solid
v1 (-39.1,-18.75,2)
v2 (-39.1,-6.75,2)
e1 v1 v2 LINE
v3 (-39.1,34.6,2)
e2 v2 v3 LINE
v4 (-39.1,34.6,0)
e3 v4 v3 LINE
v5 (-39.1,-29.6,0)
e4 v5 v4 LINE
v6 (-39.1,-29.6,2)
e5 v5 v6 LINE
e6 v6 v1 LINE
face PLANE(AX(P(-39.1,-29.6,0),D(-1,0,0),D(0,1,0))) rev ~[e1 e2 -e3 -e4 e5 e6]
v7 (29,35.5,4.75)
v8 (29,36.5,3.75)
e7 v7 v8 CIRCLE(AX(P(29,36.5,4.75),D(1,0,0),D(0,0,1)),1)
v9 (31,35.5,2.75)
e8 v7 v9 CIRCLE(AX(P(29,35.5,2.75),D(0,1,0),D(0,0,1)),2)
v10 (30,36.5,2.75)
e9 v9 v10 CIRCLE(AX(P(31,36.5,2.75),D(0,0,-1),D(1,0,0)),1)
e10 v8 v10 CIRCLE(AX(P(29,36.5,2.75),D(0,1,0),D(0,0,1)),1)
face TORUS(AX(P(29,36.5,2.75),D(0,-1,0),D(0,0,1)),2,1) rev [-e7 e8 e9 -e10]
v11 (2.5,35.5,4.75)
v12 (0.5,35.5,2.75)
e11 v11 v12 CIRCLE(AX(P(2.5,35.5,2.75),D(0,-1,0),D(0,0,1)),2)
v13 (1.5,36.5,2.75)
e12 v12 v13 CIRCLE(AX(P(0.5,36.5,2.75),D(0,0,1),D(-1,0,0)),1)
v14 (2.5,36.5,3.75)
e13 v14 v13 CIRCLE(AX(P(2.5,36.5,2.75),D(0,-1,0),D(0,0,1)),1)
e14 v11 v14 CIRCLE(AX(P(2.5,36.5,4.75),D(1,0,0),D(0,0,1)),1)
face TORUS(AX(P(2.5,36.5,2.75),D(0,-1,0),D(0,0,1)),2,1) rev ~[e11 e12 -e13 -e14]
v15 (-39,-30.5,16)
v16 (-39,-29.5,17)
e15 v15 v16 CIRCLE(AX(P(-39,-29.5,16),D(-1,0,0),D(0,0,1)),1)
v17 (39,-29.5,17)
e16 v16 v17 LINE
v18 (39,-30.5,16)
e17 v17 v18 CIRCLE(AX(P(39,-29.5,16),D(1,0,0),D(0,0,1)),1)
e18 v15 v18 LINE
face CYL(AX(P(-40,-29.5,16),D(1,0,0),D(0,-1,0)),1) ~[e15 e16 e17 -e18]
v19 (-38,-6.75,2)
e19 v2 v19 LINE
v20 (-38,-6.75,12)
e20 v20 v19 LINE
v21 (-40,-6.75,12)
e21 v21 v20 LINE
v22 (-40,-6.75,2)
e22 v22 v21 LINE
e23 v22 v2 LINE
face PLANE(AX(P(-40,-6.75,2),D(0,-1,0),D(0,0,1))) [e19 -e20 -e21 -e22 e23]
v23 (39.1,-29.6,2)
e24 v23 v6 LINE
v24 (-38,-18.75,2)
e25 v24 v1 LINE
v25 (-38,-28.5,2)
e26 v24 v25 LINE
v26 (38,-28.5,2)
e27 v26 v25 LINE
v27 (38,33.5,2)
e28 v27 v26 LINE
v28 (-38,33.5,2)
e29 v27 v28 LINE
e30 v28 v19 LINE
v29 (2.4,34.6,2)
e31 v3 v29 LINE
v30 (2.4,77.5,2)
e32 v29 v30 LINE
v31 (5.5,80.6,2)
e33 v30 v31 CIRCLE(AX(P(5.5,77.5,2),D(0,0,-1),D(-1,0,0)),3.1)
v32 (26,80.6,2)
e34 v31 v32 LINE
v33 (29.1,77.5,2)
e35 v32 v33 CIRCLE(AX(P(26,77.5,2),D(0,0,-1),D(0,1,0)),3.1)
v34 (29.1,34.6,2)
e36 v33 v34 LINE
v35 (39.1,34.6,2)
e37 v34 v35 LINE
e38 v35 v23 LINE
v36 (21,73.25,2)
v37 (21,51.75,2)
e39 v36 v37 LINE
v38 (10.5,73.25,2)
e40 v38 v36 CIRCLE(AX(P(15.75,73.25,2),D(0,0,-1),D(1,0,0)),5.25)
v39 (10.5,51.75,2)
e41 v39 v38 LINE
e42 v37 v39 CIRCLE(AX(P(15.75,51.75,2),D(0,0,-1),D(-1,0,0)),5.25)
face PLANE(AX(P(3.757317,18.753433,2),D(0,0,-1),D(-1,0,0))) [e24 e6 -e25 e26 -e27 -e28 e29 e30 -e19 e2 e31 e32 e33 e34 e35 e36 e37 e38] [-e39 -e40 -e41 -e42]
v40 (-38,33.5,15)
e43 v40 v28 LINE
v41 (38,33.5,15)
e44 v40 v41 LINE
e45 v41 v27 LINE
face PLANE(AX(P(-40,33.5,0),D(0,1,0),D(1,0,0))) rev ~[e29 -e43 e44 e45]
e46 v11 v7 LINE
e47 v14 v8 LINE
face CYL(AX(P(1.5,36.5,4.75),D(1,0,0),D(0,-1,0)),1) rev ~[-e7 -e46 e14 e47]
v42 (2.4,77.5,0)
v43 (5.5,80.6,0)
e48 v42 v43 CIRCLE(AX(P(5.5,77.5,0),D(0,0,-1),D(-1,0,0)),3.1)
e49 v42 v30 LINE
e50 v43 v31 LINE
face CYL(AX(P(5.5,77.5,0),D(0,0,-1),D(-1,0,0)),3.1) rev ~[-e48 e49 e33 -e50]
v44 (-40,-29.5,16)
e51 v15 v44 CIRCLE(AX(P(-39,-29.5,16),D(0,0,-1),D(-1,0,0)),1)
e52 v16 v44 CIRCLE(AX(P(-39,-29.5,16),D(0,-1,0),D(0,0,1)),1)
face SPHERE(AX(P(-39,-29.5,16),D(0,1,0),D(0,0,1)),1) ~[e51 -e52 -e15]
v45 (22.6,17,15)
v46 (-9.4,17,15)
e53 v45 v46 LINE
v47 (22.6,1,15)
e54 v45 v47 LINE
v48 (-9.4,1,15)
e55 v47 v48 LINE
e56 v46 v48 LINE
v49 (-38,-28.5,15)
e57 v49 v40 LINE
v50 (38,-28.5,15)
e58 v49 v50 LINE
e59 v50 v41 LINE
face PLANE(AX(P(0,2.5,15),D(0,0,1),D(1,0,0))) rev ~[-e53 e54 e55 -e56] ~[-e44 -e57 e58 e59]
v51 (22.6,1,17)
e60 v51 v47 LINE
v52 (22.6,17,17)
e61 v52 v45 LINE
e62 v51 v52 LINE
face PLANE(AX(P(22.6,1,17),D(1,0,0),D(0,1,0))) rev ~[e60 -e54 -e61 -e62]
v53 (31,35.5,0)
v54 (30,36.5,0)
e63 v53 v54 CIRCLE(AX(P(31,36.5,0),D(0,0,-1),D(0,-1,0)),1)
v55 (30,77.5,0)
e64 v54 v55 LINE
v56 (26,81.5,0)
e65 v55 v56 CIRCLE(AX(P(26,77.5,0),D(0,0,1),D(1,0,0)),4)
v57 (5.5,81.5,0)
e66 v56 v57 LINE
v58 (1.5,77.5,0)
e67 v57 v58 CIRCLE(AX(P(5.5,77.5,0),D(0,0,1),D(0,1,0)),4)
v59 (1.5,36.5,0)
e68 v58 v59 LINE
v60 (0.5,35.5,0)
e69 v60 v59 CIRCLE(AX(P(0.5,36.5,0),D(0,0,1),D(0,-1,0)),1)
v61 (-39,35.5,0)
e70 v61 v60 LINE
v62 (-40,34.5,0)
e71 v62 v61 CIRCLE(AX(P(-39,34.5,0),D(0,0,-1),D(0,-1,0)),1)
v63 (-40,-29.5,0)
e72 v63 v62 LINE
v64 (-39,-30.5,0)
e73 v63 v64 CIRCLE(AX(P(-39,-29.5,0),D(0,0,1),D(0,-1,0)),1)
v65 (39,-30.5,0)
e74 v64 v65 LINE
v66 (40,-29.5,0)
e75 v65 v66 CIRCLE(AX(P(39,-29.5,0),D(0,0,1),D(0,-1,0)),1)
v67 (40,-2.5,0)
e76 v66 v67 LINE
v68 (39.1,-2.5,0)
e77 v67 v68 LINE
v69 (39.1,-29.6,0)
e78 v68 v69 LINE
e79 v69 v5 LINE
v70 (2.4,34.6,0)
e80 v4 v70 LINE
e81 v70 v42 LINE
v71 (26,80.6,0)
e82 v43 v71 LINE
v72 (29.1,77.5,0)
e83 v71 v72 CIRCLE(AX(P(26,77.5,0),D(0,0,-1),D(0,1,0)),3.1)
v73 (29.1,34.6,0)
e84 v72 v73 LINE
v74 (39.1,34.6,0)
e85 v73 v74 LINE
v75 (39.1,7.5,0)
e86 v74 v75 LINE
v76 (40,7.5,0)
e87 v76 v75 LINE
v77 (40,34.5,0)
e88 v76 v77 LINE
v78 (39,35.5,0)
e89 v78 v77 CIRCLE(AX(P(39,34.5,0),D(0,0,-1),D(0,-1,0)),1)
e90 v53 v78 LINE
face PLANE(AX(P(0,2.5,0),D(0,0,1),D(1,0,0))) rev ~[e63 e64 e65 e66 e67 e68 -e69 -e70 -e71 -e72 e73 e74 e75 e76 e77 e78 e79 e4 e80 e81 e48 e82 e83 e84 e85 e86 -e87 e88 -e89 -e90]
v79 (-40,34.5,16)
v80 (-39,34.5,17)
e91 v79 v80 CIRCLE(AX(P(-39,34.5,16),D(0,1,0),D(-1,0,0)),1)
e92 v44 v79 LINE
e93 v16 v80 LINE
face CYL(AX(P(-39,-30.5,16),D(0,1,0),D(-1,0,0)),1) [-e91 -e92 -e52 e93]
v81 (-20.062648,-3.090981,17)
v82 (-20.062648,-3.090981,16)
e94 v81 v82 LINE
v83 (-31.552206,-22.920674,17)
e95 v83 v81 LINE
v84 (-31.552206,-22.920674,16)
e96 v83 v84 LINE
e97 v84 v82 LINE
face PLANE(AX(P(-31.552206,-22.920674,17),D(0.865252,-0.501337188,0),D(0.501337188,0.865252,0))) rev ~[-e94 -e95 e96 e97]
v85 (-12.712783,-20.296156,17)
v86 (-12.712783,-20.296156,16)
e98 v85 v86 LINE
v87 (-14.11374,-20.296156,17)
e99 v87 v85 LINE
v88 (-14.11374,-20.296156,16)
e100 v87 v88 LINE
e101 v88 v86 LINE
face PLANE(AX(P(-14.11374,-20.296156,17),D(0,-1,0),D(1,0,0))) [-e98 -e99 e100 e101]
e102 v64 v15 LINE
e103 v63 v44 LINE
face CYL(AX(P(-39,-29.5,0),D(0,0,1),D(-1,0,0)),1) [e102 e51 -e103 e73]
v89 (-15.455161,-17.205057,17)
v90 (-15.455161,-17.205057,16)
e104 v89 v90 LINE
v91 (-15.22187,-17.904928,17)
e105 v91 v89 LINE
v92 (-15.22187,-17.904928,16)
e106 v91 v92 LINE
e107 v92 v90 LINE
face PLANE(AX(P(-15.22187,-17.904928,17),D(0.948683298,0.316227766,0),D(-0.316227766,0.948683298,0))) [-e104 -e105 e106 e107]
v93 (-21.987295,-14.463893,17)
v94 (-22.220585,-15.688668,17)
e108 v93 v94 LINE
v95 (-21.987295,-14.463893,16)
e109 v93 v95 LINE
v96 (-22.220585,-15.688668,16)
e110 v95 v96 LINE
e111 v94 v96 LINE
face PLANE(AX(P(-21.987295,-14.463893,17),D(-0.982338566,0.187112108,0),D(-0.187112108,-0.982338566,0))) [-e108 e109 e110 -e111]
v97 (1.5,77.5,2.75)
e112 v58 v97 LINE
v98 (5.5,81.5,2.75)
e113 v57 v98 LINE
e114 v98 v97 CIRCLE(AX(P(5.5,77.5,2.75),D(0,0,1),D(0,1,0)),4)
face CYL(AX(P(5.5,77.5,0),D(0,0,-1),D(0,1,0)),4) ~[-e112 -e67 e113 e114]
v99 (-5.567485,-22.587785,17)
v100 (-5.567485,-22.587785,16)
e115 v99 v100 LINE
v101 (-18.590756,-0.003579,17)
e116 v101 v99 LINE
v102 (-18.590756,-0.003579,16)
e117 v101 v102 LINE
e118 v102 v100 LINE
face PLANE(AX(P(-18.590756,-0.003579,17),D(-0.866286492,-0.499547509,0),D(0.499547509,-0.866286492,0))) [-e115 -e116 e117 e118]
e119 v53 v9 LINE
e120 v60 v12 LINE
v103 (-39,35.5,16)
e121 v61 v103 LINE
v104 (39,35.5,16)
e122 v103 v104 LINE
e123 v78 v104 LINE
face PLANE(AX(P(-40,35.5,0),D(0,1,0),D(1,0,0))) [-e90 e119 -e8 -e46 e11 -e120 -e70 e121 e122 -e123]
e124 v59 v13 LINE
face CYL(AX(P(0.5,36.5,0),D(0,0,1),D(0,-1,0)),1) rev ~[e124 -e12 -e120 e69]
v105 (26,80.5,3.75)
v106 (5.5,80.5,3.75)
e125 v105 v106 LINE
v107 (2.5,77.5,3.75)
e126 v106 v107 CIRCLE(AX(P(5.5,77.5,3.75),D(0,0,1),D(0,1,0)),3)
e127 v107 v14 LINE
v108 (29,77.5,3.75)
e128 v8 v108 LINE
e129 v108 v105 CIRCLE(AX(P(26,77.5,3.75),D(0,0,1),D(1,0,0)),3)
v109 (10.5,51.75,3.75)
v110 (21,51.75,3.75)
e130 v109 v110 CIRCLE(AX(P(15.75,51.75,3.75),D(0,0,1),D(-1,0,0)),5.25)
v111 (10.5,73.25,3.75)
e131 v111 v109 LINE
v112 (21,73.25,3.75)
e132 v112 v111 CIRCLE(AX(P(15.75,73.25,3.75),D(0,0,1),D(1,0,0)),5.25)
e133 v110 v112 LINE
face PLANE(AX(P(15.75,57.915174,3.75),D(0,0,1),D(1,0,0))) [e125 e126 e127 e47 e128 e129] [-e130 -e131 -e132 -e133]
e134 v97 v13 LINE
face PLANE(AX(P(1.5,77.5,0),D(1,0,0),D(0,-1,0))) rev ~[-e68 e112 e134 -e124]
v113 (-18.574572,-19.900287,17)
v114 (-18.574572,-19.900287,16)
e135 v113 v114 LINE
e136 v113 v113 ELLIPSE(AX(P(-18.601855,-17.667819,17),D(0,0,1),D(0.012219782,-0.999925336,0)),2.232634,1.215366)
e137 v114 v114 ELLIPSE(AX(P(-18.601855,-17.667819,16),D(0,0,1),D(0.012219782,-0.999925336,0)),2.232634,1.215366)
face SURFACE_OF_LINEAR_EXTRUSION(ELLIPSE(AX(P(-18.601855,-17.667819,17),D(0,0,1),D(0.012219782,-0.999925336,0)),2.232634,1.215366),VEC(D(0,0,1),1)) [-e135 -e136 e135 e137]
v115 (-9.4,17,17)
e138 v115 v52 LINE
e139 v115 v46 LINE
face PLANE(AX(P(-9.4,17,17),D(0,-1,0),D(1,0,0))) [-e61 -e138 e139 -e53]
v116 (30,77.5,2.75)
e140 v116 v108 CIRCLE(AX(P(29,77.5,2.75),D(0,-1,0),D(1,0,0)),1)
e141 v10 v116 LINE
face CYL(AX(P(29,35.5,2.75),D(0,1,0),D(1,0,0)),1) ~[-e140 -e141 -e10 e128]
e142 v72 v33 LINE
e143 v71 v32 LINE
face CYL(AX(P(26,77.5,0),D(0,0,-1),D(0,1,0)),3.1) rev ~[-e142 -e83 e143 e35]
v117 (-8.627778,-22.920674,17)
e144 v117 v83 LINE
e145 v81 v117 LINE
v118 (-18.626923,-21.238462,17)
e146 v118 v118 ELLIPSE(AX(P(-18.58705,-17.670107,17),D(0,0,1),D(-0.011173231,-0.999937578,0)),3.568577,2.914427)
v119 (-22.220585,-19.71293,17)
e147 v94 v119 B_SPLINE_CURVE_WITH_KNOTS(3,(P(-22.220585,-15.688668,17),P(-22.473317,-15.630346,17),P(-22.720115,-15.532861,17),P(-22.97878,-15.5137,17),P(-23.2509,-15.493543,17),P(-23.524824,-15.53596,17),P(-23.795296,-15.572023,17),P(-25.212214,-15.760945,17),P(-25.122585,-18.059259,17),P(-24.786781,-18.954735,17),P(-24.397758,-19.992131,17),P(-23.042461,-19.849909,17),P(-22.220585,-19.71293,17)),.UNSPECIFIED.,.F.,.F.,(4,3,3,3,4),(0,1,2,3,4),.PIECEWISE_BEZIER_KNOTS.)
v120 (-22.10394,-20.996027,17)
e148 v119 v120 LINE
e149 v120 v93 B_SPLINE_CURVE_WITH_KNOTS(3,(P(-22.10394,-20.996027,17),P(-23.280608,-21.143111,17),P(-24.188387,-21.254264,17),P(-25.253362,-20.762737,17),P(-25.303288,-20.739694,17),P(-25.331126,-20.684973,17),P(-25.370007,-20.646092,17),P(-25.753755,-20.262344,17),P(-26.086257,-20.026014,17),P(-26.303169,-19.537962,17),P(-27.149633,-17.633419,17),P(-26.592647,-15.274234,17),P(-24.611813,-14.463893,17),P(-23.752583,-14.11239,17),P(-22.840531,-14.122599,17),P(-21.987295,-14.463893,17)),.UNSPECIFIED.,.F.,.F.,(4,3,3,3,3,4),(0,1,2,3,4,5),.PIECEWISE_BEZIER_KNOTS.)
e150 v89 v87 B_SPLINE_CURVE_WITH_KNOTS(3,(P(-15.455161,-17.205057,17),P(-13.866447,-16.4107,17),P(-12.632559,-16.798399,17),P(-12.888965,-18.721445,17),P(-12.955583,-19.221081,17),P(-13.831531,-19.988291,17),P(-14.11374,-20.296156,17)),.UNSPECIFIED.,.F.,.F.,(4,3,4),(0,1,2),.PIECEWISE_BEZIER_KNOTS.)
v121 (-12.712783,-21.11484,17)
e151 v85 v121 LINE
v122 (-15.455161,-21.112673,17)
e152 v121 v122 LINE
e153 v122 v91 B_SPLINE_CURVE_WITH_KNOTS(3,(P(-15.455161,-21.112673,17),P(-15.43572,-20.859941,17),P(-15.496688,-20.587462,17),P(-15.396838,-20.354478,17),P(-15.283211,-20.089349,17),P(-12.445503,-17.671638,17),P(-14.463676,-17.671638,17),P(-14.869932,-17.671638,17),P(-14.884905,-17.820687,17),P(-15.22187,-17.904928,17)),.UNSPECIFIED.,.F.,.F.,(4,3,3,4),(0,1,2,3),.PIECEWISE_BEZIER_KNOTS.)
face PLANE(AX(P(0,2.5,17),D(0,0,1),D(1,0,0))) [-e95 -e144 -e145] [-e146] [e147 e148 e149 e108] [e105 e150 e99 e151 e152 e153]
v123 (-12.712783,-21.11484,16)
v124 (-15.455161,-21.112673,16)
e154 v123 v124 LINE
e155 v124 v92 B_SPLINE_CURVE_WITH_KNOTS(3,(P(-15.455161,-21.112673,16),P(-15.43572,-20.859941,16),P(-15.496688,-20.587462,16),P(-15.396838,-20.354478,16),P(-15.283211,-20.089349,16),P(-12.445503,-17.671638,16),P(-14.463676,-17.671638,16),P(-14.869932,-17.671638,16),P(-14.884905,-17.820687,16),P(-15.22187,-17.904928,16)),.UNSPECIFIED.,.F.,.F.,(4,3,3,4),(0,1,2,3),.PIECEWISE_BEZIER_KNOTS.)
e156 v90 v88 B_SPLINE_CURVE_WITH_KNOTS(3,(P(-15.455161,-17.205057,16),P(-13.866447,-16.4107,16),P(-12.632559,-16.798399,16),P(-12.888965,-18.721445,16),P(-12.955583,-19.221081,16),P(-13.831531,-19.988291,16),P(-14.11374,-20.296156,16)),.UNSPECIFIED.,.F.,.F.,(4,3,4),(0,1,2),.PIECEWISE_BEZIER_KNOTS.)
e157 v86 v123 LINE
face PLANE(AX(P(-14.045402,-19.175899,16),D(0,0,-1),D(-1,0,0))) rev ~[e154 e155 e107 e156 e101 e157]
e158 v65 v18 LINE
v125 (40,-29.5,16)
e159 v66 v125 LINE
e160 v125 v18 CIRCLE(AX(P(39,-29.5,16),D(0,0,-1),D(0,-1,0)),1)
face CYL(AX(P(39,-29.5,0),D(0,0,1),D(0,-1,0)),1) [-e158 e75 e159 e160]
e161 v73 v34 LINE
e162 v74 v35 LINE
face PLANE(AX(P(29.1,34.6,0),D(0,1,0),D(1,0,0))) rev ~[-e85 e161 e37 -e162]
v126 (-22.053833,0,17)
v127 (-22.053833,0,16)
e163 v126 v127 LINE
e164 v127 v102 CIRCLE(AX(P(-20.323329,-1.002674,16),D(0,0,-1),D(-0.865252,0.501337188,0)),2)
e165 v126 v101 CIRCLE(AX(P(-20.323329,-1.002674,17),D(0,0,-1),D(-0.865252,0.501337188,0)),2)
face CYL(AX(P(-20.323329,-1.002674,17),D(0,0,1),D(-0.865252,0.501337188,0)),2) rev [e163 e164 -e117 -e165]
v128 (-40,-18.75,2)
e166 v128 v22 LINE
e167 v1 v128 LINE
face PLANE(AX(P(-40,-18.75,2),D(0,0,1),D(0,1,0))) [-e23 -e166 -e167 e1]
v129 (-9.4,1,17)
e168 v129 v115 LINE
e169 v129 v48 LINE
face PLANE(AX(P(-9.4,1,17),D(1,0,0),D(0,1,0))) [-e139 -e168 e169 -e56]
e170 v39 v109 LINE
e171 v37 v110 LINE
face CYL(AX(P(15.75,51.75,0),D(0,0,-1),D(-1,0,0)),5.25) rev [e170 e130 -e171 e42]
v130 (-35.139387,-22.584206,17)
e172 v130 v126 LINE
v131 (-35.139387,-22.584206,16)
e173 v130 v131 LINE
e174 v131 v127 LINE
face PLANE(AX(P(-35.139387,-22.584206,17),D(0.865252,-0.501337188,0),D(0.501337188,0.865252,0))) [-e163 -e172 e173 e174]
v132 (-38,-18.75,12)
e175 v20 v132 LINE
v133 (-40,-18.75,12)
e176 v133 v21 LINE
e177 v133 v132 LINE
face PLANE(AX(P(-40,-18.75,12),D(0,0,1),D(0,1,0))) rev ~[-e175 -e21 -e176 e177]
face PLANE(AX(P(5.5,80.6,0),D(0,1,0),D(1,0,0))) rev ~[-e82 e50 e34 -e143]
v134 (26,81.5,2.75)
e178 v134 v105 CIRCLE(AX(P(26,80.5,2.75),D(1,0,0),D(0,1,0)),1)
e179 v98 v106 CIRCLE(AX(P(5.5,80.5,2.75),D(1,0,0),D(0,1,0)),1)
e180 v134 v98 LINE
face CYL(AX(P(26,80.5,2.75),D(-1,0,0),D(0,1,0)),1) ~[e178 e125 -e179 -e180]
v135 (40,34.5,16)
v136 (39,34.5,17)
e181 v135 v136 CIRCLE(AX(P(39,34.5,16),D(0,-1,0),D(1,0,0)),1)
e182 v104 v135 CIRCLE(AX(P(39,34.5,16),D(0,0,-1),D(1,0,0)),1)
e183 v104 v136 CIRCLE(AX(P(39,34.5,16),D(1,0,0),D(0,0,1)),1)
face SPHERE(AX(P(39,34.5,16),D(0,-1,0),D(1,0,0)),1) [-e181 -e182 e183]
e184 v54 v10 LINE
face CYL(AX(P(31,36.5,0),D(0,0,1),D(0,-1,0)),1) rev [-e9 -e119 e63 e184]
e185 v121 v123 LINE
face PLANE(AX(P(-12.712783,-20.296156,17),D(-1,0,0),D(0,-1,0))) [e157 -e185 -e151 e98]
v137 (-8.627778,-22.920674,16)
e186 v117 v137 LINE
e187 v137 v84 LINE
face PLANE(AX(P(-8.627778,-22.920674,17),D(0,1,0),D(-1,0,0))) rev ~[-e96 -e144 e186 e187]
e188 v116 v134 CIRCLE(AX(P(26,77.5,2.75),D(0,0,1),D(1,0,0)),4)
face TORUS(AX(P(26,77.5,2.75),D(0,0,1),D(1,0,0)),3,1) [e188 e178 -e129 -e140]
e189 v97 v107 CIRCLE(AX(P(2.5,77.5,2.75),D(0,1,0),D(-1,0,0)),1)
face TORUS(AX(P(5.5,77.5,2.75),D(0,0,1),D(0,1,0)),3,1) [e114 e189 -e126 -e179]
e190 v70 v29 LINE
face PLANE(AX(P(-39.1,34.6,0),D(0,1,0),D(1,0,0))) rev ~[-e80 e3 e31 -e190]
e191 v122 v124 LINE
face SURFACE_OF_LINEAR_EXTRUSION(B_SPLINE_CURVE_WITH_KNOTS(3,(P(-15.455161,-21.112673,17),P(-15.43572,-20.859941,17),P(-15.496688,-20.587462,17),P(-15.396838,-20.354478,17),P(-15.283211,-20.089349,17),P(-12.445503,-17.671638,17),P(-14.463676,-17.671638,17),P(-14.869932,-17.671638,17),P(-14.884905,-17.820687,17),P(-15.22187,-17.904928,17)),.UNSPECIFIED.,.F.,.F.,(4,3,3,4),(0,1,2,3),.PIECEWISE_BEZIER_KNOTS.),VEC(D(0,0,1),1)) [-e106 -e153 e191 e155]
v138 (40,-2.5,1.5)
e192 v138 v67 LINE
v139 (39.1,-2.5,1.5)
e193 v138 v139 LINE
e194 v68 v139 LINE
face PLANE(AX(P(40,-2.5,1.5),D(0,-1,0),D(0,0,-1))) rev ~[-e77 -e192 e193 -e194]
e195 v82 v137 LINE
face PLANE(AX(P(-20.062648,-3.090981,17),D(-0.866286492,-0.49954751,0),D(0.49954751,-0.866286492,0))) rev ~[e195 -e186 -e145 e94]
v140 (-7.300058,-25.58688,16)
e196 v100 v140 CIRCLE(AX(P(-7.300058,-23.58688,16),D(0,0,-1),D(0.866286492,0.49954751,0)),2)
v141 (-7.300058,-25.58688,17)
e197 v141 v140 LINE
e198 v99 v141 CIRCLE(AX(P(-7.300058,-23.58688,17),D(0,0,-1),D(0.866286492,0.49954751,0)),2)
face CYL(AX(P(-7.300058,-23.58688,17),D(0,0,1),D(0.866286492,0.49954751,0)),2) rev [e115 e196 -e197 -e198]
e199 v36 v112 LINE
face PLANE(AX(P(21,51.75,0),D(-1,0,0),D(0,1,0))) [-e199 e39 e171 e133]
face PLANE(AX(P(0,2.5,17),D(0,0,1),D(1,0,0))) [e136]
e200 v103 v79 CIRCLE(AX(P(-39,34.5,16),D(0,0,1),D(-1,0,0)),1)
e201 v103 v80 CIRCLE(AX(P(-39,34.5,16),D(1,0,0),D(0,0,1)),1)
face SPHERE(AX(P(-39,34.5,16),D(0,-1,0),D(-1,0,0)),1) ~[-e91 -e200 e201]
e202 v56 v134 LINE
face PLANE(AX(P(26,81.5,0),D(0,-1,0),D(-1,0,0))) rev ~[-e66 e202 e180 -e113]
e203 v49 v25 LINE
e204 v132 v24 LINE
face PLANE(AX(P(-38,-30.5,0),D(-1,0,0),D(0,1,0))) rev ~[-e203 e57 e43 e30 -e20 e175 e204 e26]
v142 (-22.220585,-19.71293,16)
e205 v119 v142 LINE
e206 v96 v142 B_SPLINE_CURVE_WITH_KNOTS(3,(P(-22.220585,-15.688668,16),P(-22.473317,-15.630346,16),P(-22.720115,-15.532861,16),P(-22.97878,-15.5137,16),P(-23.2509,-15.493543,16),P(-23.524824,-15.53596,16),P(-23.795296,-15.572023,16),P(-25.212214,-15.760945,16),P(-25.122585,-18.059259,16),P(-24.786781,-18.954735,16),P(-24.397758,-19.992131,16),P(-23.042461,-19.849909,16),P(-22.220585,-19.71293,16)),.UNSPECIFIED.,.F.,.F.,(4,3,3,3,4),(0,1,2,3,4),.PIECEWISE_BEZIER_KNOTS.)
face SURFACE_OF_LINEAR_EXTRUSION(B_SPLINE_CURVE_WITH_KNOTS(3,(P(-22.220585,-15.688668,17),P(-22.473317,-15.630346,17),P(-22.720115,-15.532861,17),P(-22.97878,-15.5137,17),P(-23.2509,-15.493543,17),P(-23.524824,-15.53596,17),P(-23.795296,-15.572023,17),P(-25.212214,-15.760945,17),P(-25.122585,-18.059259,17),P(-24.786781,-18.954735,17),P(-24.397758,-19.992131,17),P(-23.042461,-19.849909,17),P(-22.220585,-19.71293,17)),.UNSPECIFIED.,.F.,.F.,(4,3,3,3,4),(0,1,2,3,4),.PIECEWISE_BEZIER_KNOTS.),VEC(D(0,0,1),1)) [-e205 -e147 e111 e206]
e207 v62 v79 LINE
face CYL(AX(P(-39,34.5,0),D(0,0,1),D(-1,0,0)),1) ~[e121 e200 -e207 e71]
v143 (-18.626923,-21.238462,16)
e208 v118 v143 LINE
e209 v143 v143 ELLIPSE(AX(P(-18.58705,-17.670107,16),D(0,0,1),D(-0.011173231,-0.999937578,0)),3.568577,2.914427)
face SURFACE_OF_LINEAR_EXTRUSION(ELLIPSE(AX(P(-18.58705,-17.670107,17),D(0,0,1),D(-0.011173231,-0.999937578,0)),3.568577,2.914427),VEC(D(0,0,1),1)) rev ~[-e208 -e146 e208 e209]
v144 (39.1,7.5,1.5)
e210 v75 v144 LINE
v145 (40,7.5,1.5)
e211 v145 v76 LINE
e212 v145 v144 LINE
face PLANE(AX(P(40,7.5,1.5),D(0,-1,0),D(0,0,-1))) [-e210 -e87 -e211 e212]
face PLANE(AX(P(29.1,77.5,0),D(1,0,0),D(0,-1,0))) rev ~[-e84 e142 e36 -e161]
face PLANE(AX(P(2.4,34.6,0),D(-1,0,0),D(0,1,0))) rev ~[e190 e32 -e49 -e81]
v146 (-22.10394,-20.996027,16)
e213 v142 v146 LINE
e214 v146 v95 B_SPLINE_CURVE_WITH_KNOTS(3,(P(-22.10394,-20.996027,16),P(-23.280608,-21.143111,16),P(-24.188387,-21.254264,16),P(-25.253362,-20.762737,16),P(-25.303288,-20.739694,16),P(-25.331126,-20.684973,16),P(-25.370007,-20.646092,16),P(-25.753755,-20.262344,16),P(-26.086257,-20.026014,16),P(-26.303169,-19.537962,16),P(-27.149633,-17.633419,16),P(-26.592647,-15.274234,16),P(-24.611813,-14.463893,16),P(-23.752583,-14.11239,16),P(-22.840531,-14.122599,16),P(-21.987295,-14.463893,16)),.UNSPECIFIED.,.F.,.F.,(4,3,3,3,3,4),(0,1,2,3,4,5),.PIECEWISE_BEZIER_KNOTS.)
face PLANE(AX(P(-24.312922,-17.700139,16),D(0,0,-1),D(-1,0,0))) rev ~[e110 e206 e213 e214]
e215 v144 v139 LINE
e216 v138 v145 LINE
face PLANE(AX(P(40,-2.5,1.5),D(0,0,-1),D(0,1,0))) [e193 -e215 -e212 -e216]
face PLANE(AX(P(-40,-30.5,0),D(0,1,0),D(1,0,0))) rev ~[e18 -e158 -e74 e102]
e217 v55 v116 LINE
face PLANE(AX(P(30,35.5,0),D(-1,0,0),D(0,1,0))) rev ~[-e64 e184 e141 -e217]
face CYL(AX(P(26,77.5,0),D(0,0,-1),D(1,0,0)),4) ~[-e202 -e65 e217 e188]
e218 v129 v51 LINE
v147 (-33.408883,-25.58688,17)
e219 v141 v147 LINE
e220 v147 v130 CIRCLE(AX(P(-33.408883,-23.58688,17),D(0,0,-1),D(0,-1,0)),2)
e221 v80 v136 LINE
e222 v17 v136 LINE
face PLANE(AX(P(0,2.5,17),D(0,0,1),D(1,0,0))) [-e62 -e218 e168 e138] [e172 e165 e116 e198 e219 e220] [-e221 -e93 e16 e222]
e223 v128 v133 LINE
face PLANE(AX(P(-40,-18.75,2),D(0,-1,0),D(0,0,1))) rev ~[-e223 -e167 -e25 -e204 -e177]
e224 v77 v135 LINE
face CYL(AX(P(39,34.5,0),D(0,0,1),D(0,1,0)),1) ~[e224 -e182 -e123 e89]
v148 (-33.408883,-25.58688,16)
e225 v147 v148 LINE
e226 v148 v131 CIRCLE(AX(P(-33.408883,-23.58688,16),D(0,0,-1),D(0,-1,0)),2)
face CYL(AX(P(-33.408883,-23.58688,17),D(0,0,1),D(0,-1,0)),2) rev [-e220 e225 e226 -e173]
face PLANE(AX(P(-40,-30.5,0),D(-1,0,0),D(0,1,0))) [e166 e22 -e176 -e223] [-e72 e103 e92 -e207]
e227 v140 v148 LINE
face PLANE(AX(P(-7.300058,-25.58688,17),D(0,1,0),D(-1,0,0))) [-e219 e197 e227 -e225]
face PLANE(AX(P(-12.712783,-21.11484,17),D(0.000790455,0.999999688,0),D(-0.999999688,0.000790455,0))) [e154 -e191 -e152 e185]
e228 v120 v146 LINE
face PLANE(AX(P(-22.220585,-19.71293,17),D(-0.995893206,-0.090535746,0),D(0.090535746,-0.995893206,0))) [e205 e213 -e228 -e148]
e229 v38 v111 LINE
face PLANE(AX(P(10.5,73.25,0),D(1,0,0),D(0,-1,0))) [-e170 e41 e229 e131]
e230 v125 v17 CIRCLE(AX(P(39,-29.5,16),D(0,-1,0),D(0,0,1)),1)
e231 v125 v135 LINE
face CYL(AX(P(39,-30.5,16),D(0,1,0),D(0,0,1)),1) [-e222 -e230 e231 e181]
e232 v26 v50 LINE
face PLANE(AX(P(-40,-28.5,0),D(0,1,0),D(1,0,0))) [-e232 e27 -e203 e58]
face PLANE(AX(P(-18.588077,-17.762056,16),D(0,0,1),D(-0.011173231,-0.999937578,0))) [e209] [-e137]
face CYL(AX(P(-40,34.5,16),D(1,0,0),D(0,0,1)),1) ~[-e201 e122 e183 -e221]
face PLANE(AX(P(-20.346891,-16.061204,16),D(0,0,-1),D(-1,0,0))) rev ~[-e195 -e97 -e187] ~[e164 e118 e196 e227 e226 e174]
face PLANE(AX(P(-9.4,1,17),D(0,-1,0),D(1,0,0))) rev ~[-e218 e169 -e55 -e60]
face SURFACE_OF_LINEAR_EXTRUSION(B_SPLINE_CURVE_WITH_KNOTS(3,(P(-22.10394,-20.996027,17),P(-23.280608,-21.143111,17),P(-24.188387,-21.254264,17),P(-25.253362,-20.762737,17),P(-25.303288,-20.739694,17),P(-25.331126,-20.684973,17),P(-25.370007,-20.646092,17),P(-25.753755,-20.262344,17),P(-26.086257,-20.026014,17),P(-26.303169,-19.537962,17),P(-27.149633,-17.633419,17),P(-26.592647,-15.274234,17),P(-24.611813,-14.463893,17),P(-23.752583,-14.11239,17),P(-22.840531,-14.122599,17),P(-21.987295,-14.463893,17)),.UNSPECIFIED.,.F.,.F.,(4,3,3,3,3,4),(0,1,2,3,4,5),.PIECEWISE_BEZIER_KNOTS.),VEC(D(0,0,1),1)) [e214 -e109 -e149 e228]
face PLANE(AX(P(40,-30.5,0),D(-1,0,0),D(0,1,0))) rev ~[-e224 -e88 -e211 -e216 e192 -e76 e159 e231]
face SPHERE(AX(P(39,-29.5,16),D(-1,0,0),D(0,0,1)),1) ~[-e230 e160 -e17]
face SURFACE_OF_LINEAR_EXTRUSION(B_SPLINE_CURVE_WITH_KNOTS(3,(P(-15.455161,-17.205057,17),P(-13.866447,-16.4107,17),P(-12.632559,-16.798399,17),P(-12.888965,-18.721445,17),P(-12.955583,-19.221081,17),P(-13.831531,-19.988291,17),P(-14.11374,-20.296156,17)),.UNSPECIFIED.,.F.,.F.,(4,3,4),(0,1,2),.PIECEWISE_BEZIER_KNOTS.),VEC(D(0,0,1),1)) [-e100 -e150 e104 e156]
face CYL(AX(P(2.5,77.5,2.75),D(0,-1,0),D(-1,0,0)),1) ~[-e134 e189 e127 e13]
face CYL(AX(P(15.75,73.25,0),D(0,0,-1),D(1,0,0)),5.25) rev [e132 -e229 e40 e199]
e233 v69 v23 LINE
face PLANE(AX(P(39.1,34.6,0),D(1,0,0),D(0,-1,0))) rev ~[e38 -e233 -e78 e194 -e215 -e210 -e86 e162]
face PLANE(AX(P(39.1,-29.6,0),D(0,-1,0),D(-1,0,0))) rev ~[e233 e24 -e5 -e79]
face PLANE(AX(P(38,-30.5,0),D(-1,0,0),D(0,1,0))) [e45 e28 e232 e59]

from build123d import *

# Parameters (mm, degrees)
CROQUIS1_W              = 80
CROQUIS1_H              = 66
SALIENTE_EXTRUIR2_DEPTH = 17
VACIADO7_T              = -2
CORTAR_EXTRUIR9_REACH   = 58.118
CROQUIS12_W             = 32
CROQUIS12_H             = 16
SALIENTE_EXTRUIR3_DEPTH = 3.75
CORTAR_EXTRUIR11_DEPTH  = 2
CORTAR_EXTRUIR26_REACH  = 117.461
CROQUIS16_W             = 10
CROQUIS16_H             = 12
CROQUIS20_RX            = 3.568577335
CROQUIS20_RY            = 2.914426882
CROQUIS20_RX_2          = 2.232634343
CROQUIS20_RY_2          = 1.215365865
CORTAR_EXTRUIR24_DEPTH  = 1
CORTAR_EXTRUIR25_REACH  = 117.461
CROQUIS27_W             = 1.5
CROQUIS27_H             = 10
REDONDEO3_R             = 1


with BuildPart() as part:
    # Croquis1 → Saliente-Extruir2 (new body)
    with BuildSketch(Plane.XY):
        with Locations((0, 2.5)):
            Rectangle(CROQUIS1_W, CROQUIS1_H)
    extrude(amount=SALIENTE_EXTRUIR2_DEPTH)

    # Vaciado7
    vaciado7_openings = [part.faces().sort_by_distance(p)[0] for p in [
        (0, 2.5, 0),
    ]]
    offset(amount=VACIADO7_T, openings=vaciado7_openings, kind=Kind.INTERSECTION)

    # Croquis12 → Cortar-Extruir9 (cut, up to next)
    with BuildSketch(Plane.XY.offset(17), mode=Mode.PRIVATE) as cortar_extruir9_sk1:
        with Locations((6.6, 9)):
            Rectangle(CROQUIS12_W, CROQUIS12_H)
    cortar_extruir9_tool1 = extrude(cortar_extruir9_sk1.sketch, amount=-CORTAR_EXTRUIR9_REACH, mode=Mode.PRIVATE) & part.part
    add(cortar_extruir9_tool1.solids().sort_by_distance((6.6, 9, 17))[0], mode=Mode.SUBTRACT)

    # Croquis29 → Saliente-Extruir3 (add)
    with BuildSketch(Plane(origin=(0, 0, 0), x_dir=(-1, 0, 0), z_dir=(0, 0, -1))):
        with BuildLine():
            Line((-1.5, 77.5), (-1.5, 35.5))
            Line((-1.5, 35.5), (-30, 35.5))
            Line((-30, 35.5), (-30, 77.5))
            ThreePointArc((-30, 77.5), (-28.828427125, 80.328427125), (-26, 81.5))
            Line((-26, 81.5), (-5.5, 81.5))
            ThreePointArc((-5.5, 81.5), (-2.671572875, 80.328427125), (-1.5, 77.5))
        make_face()
        with BuildLine():
            Line((-10.5, 73.25), (-10.5, 51.75))
            ThreePointArc((-10.5, 51.75), (-15.75, 46.5), (-21, 51.75))
            Line((-21, 51.75), (-21, 73.25))
            ThreePointArc((-21, 73.25), (-15.75, 78.5), (-10.5, 73.25))
        make_face(mode=Mode.SUBTRACT)
    extrude(amount=-SALIENTE_EXTRUIR3_DEPTH)

    # Croquis14 → Cortar-Extruir11 (cut)
    with BuildSketch(Plane(origin=(0, 0, 0), x_dir=(-1, 0, 0), z_dir=(0, 0, -1))):
        with BuildLine():
            Line((39.1, 34.6), (-2.4, 34.6))
            Line((-2.4, 34.6), (-2.4, 77.5))
            ThreePointArc((-2.4, 77.5), (-3.307968978, 79.692031022), (-5.5, 80.6))
            Line((-5.5, 80.6), (-26, 80.6))
            ThreePointArc((-26, 80.6), (-28.192031022, 79.692031022), (-29.1, 77.5))
            Line((-29.1, 77.5), (-29.1, 34.6))
            Line((-29.1, 34.6), (-39.1, 34.6))
            Line((-39.1, 34.6), (-39.1, -29.6))
            Line((-39.1, -29.6), (39.1, -29.6))
            Line((39.1, -29.6), (39.1, 34.6))
        make_face()
    extrude(amount=-CORTAR_EXTRUIR11_DEPTH, mode=Mode.SUBTRACT)

    # Croquis16 → Cortar-Extruir26 (cut, up to next)
    with BuildSketch(Plane.ZY.offset(40), mode=Mode.PRIVATE) as cortar_extruir26_sk1:
        with Locations((7, -12.75)):
            Rectangle(CROQUIS16_W, CROQUIS16_H)
    cortar_extruir26_tool1 = extrude(cortar_extruir26_sk1.sketch, amount=-CORTAR_EXTRUIR26_REACH, mode=Mode.PRIVATE) & part.part
    add(cortar_extruir26_tool1.solids().sort_by_distance((-40, -12.75, 7))[0], mode=Mode.SUBTRACT)

    # Croquis20 → Cortar-Extruir24 (cut)
    # profile 1 of 4: a face of its own
    with BuildSketch(Plane.XY.offset(17)):
        with BuildLine():
            Line((-18.590755698, -0.003579358), (-5.567484693, -22.587785135))
            ThreePointArc((-5.567484693, -22.587785135), (-5.568268134, -24.587332542), (-7.300057676, -25.586880154))
            Line((-7.300057676, -25.586880154), (-33.408883205, -25.586880154))
            ThreePointArc((-33.408883205, -25.586880154), (-35.141705867, -24.58554207), (-35.139387206, -22.584205777))
            Line((-35.139387206, -22.584205777), (-22.053832682, 0))
            ThreePointArc((-22.053832682, 0), (-20.321261528, 0.997324555), (-18.590755698, -0.003579358))
        make_face()
        Polygon((-8.62777783, -22.920674051), (-31.552205736, -22.920674051), (-20.06264827, -3.090980963), align=None, mode=Mode.SUBTRACT)
    # profile 2 of 4: a face of its own
    with BuildSketch(Plane.XY.offset(17)):
        with BuildLine():
            add(Edge.make_bspline(
                [(-22.220585459, -15.688668337), (-22.473316841, -15.63034571), (-22.720114648, -15.532860824), (-22.978779606, -15.513700456), (-23.250899762, -15.493543408), (-23.524824294, -15.535960138), (-23.795296381, -15.572023083), (-25.212214439, -15.760945491), (-25.122584621, -18.059259203), (-24.786781035, -18.954735434), (-24.397757557, -19.992131374), (-23.042460631, -19.849908777), (-22.220585459, -19.712929581)],
                knots=[0, 0, 0, 0, 1, 1, 1, 2, 2, 2, 3, 3, 3, 4, 4, 4, 4], degree=3))
            Line((-22.220585459, -19.712929581), (-22.103940205, -20.996027369))
            add(Edge.make_bspline(
                [(-22.103940205, -20.996027369), (-23.28060818, -21.143110866), (-24.188386831, -21.254263886), (-25.253362049, -20.762736862), (-25.303288102, -20.739694069), (-25.331125551, -20.68497336), (-25.370007302, -20.646091609), (-25.753754737, -20.262344174), (-26.08625723, -20.026013927), (-26.30316933, -19.537961701), (-27.149632898, -17.633418674), (-26.592646966, -15.27423428), (-24.611813155, -14.463893175), (-23.752583307, -14.112390056), (-22.840530525, -14.122598946), (-21.987294952, -14.463893175)],
                knots=[0, 0, 0, 0, 1, 1, 1, 2, 2, 2, 3, 3, 3, 4, 4, 4, 5, 5, 5, 5], degree=3))
            Line((-21.987294952, -14.463893175), (-22.220585459, -15.688668337))
        make_face()
    # profile 3 of 4: a face of its own
    with BuildSketch(Plane.XY.offset(17)):
        with Locations(Location((-18.587049995, -17.670107047), (0, 0, -90.640192277))):
            Ellipse(CROQUIS20_RX, CROQUIS20_RY)
        with Locations(Location((-18.601854743, -17.667818984), (0, 0, -89.299840613))):
            Ellipse(CROQUIS20_RX_2, CROQUIS20_RY_2, mode=Mode.SUBTRACT)
    # profile 4 of 4: a face of its own
    with BuildSketch(Plane.XY.offset(17)):
        with BuildLine():
            add(Edge.make_bspline(
                [(-15.455160758, -21.112672623), (-15.435719882, -20.85994124), (-15.496688009, -20.587461524), (-15.396838131, -20.354478475), (-15.283211235, -20.089349051), (-12.445503229, -17.671637646), (-14.463676103, -17.671637646), (-14.869932367, -17.671637646), (-14.884905464, -17.820686956), (-15.221870251, -17.904928152)],
                knots=[0, 0, 0, 0, 1, 1, 1, 2, 2, 2, 3, 3, 3, 3], degree=3))
            Line((-15.221870251, -17.904928152), (-15.455160758, -17.205056632))
            add(Edge.make_bspline(
                [(-15.455160758, -17.205056632), (-13.86644657, -16.410699538), (-12.632559042, -16.798398876), (-12.888965182, -18.721444927), (-12.955583326, -19.221081006), (-13.831530636, -19.988290714), (-14.113740343, -20.296155848)],
                knots=[0, 0, 0, 0, 1, 1, 1, 2, 2, 2, 2], degree=3))
            Line((-14.113740343, -20.296155848), (-12.712782774, -20.296155848))
            Line((-12.712782774, -20.296155848), (-12.712782774, -21.114840351))
            Line((-12.712782774, -21.114840351), (-15.455160758, -21.112672623))
        make_face()
    extrude(amount=-CORTAR_EXTRUIR24_DEPTH, mode=Mode.SUBTRACT)

    # Croquis27 → Cortar-Extruir25 (cut, up to next)
    with BuildSketch(Plane(origin=(40, 0, 0), x_dir=(0, 0, -1), z_dir=(1, 0, 0)), mode=Mode.PRIVATE) as cortar_extruir25_sk1:
        with Locations((-0.75, 2.5)):
            Rectangle(CROQUIS27_W, CROQUIS27_H)
    cortar_extruir25_tool1 = extrude(cortar_extruir25_sk1.sketch, amount=-CORTAR_EXTRUIR25_REACH, mode=Mode.PRIVATE) & part.part
    add(cortar_extruir25_tool1.solids().sort_by_distance((40, 2.5, 0.75))[0], mode=Mode.SUBTRACT)

    # Redondeo3
    redondeo3_edges = [part.edges().sort_by_distance(p)[0] for p in [
        (-40, 2.5, 17),
        (0, -30.5, 17),
        (28.828427125, 80.328427125, 3.75),
        (15.75, 81.5, 3.75),
        (2.671572875, 80.328427125, 3.75),
        (1.5, 56.5, 3.75),
        (15.75, 35.5, 3.75),
        (1.5, 35.5, 1.875),
        (30, 56.5, 3.75),
        (30, 35.5, 1.875),
        (40, 2.5, 17),
        (40, -30.5, 8.5),
        (-40, -30.5, 8.5),
        (-40, 35.5, 8.5),
        (40, 35.5, 8.5),
        (0, 35.5, 17),
    ]]
    fillet(redondeo3_edges, radius=REDONDEO3_R)


solid = part.part
